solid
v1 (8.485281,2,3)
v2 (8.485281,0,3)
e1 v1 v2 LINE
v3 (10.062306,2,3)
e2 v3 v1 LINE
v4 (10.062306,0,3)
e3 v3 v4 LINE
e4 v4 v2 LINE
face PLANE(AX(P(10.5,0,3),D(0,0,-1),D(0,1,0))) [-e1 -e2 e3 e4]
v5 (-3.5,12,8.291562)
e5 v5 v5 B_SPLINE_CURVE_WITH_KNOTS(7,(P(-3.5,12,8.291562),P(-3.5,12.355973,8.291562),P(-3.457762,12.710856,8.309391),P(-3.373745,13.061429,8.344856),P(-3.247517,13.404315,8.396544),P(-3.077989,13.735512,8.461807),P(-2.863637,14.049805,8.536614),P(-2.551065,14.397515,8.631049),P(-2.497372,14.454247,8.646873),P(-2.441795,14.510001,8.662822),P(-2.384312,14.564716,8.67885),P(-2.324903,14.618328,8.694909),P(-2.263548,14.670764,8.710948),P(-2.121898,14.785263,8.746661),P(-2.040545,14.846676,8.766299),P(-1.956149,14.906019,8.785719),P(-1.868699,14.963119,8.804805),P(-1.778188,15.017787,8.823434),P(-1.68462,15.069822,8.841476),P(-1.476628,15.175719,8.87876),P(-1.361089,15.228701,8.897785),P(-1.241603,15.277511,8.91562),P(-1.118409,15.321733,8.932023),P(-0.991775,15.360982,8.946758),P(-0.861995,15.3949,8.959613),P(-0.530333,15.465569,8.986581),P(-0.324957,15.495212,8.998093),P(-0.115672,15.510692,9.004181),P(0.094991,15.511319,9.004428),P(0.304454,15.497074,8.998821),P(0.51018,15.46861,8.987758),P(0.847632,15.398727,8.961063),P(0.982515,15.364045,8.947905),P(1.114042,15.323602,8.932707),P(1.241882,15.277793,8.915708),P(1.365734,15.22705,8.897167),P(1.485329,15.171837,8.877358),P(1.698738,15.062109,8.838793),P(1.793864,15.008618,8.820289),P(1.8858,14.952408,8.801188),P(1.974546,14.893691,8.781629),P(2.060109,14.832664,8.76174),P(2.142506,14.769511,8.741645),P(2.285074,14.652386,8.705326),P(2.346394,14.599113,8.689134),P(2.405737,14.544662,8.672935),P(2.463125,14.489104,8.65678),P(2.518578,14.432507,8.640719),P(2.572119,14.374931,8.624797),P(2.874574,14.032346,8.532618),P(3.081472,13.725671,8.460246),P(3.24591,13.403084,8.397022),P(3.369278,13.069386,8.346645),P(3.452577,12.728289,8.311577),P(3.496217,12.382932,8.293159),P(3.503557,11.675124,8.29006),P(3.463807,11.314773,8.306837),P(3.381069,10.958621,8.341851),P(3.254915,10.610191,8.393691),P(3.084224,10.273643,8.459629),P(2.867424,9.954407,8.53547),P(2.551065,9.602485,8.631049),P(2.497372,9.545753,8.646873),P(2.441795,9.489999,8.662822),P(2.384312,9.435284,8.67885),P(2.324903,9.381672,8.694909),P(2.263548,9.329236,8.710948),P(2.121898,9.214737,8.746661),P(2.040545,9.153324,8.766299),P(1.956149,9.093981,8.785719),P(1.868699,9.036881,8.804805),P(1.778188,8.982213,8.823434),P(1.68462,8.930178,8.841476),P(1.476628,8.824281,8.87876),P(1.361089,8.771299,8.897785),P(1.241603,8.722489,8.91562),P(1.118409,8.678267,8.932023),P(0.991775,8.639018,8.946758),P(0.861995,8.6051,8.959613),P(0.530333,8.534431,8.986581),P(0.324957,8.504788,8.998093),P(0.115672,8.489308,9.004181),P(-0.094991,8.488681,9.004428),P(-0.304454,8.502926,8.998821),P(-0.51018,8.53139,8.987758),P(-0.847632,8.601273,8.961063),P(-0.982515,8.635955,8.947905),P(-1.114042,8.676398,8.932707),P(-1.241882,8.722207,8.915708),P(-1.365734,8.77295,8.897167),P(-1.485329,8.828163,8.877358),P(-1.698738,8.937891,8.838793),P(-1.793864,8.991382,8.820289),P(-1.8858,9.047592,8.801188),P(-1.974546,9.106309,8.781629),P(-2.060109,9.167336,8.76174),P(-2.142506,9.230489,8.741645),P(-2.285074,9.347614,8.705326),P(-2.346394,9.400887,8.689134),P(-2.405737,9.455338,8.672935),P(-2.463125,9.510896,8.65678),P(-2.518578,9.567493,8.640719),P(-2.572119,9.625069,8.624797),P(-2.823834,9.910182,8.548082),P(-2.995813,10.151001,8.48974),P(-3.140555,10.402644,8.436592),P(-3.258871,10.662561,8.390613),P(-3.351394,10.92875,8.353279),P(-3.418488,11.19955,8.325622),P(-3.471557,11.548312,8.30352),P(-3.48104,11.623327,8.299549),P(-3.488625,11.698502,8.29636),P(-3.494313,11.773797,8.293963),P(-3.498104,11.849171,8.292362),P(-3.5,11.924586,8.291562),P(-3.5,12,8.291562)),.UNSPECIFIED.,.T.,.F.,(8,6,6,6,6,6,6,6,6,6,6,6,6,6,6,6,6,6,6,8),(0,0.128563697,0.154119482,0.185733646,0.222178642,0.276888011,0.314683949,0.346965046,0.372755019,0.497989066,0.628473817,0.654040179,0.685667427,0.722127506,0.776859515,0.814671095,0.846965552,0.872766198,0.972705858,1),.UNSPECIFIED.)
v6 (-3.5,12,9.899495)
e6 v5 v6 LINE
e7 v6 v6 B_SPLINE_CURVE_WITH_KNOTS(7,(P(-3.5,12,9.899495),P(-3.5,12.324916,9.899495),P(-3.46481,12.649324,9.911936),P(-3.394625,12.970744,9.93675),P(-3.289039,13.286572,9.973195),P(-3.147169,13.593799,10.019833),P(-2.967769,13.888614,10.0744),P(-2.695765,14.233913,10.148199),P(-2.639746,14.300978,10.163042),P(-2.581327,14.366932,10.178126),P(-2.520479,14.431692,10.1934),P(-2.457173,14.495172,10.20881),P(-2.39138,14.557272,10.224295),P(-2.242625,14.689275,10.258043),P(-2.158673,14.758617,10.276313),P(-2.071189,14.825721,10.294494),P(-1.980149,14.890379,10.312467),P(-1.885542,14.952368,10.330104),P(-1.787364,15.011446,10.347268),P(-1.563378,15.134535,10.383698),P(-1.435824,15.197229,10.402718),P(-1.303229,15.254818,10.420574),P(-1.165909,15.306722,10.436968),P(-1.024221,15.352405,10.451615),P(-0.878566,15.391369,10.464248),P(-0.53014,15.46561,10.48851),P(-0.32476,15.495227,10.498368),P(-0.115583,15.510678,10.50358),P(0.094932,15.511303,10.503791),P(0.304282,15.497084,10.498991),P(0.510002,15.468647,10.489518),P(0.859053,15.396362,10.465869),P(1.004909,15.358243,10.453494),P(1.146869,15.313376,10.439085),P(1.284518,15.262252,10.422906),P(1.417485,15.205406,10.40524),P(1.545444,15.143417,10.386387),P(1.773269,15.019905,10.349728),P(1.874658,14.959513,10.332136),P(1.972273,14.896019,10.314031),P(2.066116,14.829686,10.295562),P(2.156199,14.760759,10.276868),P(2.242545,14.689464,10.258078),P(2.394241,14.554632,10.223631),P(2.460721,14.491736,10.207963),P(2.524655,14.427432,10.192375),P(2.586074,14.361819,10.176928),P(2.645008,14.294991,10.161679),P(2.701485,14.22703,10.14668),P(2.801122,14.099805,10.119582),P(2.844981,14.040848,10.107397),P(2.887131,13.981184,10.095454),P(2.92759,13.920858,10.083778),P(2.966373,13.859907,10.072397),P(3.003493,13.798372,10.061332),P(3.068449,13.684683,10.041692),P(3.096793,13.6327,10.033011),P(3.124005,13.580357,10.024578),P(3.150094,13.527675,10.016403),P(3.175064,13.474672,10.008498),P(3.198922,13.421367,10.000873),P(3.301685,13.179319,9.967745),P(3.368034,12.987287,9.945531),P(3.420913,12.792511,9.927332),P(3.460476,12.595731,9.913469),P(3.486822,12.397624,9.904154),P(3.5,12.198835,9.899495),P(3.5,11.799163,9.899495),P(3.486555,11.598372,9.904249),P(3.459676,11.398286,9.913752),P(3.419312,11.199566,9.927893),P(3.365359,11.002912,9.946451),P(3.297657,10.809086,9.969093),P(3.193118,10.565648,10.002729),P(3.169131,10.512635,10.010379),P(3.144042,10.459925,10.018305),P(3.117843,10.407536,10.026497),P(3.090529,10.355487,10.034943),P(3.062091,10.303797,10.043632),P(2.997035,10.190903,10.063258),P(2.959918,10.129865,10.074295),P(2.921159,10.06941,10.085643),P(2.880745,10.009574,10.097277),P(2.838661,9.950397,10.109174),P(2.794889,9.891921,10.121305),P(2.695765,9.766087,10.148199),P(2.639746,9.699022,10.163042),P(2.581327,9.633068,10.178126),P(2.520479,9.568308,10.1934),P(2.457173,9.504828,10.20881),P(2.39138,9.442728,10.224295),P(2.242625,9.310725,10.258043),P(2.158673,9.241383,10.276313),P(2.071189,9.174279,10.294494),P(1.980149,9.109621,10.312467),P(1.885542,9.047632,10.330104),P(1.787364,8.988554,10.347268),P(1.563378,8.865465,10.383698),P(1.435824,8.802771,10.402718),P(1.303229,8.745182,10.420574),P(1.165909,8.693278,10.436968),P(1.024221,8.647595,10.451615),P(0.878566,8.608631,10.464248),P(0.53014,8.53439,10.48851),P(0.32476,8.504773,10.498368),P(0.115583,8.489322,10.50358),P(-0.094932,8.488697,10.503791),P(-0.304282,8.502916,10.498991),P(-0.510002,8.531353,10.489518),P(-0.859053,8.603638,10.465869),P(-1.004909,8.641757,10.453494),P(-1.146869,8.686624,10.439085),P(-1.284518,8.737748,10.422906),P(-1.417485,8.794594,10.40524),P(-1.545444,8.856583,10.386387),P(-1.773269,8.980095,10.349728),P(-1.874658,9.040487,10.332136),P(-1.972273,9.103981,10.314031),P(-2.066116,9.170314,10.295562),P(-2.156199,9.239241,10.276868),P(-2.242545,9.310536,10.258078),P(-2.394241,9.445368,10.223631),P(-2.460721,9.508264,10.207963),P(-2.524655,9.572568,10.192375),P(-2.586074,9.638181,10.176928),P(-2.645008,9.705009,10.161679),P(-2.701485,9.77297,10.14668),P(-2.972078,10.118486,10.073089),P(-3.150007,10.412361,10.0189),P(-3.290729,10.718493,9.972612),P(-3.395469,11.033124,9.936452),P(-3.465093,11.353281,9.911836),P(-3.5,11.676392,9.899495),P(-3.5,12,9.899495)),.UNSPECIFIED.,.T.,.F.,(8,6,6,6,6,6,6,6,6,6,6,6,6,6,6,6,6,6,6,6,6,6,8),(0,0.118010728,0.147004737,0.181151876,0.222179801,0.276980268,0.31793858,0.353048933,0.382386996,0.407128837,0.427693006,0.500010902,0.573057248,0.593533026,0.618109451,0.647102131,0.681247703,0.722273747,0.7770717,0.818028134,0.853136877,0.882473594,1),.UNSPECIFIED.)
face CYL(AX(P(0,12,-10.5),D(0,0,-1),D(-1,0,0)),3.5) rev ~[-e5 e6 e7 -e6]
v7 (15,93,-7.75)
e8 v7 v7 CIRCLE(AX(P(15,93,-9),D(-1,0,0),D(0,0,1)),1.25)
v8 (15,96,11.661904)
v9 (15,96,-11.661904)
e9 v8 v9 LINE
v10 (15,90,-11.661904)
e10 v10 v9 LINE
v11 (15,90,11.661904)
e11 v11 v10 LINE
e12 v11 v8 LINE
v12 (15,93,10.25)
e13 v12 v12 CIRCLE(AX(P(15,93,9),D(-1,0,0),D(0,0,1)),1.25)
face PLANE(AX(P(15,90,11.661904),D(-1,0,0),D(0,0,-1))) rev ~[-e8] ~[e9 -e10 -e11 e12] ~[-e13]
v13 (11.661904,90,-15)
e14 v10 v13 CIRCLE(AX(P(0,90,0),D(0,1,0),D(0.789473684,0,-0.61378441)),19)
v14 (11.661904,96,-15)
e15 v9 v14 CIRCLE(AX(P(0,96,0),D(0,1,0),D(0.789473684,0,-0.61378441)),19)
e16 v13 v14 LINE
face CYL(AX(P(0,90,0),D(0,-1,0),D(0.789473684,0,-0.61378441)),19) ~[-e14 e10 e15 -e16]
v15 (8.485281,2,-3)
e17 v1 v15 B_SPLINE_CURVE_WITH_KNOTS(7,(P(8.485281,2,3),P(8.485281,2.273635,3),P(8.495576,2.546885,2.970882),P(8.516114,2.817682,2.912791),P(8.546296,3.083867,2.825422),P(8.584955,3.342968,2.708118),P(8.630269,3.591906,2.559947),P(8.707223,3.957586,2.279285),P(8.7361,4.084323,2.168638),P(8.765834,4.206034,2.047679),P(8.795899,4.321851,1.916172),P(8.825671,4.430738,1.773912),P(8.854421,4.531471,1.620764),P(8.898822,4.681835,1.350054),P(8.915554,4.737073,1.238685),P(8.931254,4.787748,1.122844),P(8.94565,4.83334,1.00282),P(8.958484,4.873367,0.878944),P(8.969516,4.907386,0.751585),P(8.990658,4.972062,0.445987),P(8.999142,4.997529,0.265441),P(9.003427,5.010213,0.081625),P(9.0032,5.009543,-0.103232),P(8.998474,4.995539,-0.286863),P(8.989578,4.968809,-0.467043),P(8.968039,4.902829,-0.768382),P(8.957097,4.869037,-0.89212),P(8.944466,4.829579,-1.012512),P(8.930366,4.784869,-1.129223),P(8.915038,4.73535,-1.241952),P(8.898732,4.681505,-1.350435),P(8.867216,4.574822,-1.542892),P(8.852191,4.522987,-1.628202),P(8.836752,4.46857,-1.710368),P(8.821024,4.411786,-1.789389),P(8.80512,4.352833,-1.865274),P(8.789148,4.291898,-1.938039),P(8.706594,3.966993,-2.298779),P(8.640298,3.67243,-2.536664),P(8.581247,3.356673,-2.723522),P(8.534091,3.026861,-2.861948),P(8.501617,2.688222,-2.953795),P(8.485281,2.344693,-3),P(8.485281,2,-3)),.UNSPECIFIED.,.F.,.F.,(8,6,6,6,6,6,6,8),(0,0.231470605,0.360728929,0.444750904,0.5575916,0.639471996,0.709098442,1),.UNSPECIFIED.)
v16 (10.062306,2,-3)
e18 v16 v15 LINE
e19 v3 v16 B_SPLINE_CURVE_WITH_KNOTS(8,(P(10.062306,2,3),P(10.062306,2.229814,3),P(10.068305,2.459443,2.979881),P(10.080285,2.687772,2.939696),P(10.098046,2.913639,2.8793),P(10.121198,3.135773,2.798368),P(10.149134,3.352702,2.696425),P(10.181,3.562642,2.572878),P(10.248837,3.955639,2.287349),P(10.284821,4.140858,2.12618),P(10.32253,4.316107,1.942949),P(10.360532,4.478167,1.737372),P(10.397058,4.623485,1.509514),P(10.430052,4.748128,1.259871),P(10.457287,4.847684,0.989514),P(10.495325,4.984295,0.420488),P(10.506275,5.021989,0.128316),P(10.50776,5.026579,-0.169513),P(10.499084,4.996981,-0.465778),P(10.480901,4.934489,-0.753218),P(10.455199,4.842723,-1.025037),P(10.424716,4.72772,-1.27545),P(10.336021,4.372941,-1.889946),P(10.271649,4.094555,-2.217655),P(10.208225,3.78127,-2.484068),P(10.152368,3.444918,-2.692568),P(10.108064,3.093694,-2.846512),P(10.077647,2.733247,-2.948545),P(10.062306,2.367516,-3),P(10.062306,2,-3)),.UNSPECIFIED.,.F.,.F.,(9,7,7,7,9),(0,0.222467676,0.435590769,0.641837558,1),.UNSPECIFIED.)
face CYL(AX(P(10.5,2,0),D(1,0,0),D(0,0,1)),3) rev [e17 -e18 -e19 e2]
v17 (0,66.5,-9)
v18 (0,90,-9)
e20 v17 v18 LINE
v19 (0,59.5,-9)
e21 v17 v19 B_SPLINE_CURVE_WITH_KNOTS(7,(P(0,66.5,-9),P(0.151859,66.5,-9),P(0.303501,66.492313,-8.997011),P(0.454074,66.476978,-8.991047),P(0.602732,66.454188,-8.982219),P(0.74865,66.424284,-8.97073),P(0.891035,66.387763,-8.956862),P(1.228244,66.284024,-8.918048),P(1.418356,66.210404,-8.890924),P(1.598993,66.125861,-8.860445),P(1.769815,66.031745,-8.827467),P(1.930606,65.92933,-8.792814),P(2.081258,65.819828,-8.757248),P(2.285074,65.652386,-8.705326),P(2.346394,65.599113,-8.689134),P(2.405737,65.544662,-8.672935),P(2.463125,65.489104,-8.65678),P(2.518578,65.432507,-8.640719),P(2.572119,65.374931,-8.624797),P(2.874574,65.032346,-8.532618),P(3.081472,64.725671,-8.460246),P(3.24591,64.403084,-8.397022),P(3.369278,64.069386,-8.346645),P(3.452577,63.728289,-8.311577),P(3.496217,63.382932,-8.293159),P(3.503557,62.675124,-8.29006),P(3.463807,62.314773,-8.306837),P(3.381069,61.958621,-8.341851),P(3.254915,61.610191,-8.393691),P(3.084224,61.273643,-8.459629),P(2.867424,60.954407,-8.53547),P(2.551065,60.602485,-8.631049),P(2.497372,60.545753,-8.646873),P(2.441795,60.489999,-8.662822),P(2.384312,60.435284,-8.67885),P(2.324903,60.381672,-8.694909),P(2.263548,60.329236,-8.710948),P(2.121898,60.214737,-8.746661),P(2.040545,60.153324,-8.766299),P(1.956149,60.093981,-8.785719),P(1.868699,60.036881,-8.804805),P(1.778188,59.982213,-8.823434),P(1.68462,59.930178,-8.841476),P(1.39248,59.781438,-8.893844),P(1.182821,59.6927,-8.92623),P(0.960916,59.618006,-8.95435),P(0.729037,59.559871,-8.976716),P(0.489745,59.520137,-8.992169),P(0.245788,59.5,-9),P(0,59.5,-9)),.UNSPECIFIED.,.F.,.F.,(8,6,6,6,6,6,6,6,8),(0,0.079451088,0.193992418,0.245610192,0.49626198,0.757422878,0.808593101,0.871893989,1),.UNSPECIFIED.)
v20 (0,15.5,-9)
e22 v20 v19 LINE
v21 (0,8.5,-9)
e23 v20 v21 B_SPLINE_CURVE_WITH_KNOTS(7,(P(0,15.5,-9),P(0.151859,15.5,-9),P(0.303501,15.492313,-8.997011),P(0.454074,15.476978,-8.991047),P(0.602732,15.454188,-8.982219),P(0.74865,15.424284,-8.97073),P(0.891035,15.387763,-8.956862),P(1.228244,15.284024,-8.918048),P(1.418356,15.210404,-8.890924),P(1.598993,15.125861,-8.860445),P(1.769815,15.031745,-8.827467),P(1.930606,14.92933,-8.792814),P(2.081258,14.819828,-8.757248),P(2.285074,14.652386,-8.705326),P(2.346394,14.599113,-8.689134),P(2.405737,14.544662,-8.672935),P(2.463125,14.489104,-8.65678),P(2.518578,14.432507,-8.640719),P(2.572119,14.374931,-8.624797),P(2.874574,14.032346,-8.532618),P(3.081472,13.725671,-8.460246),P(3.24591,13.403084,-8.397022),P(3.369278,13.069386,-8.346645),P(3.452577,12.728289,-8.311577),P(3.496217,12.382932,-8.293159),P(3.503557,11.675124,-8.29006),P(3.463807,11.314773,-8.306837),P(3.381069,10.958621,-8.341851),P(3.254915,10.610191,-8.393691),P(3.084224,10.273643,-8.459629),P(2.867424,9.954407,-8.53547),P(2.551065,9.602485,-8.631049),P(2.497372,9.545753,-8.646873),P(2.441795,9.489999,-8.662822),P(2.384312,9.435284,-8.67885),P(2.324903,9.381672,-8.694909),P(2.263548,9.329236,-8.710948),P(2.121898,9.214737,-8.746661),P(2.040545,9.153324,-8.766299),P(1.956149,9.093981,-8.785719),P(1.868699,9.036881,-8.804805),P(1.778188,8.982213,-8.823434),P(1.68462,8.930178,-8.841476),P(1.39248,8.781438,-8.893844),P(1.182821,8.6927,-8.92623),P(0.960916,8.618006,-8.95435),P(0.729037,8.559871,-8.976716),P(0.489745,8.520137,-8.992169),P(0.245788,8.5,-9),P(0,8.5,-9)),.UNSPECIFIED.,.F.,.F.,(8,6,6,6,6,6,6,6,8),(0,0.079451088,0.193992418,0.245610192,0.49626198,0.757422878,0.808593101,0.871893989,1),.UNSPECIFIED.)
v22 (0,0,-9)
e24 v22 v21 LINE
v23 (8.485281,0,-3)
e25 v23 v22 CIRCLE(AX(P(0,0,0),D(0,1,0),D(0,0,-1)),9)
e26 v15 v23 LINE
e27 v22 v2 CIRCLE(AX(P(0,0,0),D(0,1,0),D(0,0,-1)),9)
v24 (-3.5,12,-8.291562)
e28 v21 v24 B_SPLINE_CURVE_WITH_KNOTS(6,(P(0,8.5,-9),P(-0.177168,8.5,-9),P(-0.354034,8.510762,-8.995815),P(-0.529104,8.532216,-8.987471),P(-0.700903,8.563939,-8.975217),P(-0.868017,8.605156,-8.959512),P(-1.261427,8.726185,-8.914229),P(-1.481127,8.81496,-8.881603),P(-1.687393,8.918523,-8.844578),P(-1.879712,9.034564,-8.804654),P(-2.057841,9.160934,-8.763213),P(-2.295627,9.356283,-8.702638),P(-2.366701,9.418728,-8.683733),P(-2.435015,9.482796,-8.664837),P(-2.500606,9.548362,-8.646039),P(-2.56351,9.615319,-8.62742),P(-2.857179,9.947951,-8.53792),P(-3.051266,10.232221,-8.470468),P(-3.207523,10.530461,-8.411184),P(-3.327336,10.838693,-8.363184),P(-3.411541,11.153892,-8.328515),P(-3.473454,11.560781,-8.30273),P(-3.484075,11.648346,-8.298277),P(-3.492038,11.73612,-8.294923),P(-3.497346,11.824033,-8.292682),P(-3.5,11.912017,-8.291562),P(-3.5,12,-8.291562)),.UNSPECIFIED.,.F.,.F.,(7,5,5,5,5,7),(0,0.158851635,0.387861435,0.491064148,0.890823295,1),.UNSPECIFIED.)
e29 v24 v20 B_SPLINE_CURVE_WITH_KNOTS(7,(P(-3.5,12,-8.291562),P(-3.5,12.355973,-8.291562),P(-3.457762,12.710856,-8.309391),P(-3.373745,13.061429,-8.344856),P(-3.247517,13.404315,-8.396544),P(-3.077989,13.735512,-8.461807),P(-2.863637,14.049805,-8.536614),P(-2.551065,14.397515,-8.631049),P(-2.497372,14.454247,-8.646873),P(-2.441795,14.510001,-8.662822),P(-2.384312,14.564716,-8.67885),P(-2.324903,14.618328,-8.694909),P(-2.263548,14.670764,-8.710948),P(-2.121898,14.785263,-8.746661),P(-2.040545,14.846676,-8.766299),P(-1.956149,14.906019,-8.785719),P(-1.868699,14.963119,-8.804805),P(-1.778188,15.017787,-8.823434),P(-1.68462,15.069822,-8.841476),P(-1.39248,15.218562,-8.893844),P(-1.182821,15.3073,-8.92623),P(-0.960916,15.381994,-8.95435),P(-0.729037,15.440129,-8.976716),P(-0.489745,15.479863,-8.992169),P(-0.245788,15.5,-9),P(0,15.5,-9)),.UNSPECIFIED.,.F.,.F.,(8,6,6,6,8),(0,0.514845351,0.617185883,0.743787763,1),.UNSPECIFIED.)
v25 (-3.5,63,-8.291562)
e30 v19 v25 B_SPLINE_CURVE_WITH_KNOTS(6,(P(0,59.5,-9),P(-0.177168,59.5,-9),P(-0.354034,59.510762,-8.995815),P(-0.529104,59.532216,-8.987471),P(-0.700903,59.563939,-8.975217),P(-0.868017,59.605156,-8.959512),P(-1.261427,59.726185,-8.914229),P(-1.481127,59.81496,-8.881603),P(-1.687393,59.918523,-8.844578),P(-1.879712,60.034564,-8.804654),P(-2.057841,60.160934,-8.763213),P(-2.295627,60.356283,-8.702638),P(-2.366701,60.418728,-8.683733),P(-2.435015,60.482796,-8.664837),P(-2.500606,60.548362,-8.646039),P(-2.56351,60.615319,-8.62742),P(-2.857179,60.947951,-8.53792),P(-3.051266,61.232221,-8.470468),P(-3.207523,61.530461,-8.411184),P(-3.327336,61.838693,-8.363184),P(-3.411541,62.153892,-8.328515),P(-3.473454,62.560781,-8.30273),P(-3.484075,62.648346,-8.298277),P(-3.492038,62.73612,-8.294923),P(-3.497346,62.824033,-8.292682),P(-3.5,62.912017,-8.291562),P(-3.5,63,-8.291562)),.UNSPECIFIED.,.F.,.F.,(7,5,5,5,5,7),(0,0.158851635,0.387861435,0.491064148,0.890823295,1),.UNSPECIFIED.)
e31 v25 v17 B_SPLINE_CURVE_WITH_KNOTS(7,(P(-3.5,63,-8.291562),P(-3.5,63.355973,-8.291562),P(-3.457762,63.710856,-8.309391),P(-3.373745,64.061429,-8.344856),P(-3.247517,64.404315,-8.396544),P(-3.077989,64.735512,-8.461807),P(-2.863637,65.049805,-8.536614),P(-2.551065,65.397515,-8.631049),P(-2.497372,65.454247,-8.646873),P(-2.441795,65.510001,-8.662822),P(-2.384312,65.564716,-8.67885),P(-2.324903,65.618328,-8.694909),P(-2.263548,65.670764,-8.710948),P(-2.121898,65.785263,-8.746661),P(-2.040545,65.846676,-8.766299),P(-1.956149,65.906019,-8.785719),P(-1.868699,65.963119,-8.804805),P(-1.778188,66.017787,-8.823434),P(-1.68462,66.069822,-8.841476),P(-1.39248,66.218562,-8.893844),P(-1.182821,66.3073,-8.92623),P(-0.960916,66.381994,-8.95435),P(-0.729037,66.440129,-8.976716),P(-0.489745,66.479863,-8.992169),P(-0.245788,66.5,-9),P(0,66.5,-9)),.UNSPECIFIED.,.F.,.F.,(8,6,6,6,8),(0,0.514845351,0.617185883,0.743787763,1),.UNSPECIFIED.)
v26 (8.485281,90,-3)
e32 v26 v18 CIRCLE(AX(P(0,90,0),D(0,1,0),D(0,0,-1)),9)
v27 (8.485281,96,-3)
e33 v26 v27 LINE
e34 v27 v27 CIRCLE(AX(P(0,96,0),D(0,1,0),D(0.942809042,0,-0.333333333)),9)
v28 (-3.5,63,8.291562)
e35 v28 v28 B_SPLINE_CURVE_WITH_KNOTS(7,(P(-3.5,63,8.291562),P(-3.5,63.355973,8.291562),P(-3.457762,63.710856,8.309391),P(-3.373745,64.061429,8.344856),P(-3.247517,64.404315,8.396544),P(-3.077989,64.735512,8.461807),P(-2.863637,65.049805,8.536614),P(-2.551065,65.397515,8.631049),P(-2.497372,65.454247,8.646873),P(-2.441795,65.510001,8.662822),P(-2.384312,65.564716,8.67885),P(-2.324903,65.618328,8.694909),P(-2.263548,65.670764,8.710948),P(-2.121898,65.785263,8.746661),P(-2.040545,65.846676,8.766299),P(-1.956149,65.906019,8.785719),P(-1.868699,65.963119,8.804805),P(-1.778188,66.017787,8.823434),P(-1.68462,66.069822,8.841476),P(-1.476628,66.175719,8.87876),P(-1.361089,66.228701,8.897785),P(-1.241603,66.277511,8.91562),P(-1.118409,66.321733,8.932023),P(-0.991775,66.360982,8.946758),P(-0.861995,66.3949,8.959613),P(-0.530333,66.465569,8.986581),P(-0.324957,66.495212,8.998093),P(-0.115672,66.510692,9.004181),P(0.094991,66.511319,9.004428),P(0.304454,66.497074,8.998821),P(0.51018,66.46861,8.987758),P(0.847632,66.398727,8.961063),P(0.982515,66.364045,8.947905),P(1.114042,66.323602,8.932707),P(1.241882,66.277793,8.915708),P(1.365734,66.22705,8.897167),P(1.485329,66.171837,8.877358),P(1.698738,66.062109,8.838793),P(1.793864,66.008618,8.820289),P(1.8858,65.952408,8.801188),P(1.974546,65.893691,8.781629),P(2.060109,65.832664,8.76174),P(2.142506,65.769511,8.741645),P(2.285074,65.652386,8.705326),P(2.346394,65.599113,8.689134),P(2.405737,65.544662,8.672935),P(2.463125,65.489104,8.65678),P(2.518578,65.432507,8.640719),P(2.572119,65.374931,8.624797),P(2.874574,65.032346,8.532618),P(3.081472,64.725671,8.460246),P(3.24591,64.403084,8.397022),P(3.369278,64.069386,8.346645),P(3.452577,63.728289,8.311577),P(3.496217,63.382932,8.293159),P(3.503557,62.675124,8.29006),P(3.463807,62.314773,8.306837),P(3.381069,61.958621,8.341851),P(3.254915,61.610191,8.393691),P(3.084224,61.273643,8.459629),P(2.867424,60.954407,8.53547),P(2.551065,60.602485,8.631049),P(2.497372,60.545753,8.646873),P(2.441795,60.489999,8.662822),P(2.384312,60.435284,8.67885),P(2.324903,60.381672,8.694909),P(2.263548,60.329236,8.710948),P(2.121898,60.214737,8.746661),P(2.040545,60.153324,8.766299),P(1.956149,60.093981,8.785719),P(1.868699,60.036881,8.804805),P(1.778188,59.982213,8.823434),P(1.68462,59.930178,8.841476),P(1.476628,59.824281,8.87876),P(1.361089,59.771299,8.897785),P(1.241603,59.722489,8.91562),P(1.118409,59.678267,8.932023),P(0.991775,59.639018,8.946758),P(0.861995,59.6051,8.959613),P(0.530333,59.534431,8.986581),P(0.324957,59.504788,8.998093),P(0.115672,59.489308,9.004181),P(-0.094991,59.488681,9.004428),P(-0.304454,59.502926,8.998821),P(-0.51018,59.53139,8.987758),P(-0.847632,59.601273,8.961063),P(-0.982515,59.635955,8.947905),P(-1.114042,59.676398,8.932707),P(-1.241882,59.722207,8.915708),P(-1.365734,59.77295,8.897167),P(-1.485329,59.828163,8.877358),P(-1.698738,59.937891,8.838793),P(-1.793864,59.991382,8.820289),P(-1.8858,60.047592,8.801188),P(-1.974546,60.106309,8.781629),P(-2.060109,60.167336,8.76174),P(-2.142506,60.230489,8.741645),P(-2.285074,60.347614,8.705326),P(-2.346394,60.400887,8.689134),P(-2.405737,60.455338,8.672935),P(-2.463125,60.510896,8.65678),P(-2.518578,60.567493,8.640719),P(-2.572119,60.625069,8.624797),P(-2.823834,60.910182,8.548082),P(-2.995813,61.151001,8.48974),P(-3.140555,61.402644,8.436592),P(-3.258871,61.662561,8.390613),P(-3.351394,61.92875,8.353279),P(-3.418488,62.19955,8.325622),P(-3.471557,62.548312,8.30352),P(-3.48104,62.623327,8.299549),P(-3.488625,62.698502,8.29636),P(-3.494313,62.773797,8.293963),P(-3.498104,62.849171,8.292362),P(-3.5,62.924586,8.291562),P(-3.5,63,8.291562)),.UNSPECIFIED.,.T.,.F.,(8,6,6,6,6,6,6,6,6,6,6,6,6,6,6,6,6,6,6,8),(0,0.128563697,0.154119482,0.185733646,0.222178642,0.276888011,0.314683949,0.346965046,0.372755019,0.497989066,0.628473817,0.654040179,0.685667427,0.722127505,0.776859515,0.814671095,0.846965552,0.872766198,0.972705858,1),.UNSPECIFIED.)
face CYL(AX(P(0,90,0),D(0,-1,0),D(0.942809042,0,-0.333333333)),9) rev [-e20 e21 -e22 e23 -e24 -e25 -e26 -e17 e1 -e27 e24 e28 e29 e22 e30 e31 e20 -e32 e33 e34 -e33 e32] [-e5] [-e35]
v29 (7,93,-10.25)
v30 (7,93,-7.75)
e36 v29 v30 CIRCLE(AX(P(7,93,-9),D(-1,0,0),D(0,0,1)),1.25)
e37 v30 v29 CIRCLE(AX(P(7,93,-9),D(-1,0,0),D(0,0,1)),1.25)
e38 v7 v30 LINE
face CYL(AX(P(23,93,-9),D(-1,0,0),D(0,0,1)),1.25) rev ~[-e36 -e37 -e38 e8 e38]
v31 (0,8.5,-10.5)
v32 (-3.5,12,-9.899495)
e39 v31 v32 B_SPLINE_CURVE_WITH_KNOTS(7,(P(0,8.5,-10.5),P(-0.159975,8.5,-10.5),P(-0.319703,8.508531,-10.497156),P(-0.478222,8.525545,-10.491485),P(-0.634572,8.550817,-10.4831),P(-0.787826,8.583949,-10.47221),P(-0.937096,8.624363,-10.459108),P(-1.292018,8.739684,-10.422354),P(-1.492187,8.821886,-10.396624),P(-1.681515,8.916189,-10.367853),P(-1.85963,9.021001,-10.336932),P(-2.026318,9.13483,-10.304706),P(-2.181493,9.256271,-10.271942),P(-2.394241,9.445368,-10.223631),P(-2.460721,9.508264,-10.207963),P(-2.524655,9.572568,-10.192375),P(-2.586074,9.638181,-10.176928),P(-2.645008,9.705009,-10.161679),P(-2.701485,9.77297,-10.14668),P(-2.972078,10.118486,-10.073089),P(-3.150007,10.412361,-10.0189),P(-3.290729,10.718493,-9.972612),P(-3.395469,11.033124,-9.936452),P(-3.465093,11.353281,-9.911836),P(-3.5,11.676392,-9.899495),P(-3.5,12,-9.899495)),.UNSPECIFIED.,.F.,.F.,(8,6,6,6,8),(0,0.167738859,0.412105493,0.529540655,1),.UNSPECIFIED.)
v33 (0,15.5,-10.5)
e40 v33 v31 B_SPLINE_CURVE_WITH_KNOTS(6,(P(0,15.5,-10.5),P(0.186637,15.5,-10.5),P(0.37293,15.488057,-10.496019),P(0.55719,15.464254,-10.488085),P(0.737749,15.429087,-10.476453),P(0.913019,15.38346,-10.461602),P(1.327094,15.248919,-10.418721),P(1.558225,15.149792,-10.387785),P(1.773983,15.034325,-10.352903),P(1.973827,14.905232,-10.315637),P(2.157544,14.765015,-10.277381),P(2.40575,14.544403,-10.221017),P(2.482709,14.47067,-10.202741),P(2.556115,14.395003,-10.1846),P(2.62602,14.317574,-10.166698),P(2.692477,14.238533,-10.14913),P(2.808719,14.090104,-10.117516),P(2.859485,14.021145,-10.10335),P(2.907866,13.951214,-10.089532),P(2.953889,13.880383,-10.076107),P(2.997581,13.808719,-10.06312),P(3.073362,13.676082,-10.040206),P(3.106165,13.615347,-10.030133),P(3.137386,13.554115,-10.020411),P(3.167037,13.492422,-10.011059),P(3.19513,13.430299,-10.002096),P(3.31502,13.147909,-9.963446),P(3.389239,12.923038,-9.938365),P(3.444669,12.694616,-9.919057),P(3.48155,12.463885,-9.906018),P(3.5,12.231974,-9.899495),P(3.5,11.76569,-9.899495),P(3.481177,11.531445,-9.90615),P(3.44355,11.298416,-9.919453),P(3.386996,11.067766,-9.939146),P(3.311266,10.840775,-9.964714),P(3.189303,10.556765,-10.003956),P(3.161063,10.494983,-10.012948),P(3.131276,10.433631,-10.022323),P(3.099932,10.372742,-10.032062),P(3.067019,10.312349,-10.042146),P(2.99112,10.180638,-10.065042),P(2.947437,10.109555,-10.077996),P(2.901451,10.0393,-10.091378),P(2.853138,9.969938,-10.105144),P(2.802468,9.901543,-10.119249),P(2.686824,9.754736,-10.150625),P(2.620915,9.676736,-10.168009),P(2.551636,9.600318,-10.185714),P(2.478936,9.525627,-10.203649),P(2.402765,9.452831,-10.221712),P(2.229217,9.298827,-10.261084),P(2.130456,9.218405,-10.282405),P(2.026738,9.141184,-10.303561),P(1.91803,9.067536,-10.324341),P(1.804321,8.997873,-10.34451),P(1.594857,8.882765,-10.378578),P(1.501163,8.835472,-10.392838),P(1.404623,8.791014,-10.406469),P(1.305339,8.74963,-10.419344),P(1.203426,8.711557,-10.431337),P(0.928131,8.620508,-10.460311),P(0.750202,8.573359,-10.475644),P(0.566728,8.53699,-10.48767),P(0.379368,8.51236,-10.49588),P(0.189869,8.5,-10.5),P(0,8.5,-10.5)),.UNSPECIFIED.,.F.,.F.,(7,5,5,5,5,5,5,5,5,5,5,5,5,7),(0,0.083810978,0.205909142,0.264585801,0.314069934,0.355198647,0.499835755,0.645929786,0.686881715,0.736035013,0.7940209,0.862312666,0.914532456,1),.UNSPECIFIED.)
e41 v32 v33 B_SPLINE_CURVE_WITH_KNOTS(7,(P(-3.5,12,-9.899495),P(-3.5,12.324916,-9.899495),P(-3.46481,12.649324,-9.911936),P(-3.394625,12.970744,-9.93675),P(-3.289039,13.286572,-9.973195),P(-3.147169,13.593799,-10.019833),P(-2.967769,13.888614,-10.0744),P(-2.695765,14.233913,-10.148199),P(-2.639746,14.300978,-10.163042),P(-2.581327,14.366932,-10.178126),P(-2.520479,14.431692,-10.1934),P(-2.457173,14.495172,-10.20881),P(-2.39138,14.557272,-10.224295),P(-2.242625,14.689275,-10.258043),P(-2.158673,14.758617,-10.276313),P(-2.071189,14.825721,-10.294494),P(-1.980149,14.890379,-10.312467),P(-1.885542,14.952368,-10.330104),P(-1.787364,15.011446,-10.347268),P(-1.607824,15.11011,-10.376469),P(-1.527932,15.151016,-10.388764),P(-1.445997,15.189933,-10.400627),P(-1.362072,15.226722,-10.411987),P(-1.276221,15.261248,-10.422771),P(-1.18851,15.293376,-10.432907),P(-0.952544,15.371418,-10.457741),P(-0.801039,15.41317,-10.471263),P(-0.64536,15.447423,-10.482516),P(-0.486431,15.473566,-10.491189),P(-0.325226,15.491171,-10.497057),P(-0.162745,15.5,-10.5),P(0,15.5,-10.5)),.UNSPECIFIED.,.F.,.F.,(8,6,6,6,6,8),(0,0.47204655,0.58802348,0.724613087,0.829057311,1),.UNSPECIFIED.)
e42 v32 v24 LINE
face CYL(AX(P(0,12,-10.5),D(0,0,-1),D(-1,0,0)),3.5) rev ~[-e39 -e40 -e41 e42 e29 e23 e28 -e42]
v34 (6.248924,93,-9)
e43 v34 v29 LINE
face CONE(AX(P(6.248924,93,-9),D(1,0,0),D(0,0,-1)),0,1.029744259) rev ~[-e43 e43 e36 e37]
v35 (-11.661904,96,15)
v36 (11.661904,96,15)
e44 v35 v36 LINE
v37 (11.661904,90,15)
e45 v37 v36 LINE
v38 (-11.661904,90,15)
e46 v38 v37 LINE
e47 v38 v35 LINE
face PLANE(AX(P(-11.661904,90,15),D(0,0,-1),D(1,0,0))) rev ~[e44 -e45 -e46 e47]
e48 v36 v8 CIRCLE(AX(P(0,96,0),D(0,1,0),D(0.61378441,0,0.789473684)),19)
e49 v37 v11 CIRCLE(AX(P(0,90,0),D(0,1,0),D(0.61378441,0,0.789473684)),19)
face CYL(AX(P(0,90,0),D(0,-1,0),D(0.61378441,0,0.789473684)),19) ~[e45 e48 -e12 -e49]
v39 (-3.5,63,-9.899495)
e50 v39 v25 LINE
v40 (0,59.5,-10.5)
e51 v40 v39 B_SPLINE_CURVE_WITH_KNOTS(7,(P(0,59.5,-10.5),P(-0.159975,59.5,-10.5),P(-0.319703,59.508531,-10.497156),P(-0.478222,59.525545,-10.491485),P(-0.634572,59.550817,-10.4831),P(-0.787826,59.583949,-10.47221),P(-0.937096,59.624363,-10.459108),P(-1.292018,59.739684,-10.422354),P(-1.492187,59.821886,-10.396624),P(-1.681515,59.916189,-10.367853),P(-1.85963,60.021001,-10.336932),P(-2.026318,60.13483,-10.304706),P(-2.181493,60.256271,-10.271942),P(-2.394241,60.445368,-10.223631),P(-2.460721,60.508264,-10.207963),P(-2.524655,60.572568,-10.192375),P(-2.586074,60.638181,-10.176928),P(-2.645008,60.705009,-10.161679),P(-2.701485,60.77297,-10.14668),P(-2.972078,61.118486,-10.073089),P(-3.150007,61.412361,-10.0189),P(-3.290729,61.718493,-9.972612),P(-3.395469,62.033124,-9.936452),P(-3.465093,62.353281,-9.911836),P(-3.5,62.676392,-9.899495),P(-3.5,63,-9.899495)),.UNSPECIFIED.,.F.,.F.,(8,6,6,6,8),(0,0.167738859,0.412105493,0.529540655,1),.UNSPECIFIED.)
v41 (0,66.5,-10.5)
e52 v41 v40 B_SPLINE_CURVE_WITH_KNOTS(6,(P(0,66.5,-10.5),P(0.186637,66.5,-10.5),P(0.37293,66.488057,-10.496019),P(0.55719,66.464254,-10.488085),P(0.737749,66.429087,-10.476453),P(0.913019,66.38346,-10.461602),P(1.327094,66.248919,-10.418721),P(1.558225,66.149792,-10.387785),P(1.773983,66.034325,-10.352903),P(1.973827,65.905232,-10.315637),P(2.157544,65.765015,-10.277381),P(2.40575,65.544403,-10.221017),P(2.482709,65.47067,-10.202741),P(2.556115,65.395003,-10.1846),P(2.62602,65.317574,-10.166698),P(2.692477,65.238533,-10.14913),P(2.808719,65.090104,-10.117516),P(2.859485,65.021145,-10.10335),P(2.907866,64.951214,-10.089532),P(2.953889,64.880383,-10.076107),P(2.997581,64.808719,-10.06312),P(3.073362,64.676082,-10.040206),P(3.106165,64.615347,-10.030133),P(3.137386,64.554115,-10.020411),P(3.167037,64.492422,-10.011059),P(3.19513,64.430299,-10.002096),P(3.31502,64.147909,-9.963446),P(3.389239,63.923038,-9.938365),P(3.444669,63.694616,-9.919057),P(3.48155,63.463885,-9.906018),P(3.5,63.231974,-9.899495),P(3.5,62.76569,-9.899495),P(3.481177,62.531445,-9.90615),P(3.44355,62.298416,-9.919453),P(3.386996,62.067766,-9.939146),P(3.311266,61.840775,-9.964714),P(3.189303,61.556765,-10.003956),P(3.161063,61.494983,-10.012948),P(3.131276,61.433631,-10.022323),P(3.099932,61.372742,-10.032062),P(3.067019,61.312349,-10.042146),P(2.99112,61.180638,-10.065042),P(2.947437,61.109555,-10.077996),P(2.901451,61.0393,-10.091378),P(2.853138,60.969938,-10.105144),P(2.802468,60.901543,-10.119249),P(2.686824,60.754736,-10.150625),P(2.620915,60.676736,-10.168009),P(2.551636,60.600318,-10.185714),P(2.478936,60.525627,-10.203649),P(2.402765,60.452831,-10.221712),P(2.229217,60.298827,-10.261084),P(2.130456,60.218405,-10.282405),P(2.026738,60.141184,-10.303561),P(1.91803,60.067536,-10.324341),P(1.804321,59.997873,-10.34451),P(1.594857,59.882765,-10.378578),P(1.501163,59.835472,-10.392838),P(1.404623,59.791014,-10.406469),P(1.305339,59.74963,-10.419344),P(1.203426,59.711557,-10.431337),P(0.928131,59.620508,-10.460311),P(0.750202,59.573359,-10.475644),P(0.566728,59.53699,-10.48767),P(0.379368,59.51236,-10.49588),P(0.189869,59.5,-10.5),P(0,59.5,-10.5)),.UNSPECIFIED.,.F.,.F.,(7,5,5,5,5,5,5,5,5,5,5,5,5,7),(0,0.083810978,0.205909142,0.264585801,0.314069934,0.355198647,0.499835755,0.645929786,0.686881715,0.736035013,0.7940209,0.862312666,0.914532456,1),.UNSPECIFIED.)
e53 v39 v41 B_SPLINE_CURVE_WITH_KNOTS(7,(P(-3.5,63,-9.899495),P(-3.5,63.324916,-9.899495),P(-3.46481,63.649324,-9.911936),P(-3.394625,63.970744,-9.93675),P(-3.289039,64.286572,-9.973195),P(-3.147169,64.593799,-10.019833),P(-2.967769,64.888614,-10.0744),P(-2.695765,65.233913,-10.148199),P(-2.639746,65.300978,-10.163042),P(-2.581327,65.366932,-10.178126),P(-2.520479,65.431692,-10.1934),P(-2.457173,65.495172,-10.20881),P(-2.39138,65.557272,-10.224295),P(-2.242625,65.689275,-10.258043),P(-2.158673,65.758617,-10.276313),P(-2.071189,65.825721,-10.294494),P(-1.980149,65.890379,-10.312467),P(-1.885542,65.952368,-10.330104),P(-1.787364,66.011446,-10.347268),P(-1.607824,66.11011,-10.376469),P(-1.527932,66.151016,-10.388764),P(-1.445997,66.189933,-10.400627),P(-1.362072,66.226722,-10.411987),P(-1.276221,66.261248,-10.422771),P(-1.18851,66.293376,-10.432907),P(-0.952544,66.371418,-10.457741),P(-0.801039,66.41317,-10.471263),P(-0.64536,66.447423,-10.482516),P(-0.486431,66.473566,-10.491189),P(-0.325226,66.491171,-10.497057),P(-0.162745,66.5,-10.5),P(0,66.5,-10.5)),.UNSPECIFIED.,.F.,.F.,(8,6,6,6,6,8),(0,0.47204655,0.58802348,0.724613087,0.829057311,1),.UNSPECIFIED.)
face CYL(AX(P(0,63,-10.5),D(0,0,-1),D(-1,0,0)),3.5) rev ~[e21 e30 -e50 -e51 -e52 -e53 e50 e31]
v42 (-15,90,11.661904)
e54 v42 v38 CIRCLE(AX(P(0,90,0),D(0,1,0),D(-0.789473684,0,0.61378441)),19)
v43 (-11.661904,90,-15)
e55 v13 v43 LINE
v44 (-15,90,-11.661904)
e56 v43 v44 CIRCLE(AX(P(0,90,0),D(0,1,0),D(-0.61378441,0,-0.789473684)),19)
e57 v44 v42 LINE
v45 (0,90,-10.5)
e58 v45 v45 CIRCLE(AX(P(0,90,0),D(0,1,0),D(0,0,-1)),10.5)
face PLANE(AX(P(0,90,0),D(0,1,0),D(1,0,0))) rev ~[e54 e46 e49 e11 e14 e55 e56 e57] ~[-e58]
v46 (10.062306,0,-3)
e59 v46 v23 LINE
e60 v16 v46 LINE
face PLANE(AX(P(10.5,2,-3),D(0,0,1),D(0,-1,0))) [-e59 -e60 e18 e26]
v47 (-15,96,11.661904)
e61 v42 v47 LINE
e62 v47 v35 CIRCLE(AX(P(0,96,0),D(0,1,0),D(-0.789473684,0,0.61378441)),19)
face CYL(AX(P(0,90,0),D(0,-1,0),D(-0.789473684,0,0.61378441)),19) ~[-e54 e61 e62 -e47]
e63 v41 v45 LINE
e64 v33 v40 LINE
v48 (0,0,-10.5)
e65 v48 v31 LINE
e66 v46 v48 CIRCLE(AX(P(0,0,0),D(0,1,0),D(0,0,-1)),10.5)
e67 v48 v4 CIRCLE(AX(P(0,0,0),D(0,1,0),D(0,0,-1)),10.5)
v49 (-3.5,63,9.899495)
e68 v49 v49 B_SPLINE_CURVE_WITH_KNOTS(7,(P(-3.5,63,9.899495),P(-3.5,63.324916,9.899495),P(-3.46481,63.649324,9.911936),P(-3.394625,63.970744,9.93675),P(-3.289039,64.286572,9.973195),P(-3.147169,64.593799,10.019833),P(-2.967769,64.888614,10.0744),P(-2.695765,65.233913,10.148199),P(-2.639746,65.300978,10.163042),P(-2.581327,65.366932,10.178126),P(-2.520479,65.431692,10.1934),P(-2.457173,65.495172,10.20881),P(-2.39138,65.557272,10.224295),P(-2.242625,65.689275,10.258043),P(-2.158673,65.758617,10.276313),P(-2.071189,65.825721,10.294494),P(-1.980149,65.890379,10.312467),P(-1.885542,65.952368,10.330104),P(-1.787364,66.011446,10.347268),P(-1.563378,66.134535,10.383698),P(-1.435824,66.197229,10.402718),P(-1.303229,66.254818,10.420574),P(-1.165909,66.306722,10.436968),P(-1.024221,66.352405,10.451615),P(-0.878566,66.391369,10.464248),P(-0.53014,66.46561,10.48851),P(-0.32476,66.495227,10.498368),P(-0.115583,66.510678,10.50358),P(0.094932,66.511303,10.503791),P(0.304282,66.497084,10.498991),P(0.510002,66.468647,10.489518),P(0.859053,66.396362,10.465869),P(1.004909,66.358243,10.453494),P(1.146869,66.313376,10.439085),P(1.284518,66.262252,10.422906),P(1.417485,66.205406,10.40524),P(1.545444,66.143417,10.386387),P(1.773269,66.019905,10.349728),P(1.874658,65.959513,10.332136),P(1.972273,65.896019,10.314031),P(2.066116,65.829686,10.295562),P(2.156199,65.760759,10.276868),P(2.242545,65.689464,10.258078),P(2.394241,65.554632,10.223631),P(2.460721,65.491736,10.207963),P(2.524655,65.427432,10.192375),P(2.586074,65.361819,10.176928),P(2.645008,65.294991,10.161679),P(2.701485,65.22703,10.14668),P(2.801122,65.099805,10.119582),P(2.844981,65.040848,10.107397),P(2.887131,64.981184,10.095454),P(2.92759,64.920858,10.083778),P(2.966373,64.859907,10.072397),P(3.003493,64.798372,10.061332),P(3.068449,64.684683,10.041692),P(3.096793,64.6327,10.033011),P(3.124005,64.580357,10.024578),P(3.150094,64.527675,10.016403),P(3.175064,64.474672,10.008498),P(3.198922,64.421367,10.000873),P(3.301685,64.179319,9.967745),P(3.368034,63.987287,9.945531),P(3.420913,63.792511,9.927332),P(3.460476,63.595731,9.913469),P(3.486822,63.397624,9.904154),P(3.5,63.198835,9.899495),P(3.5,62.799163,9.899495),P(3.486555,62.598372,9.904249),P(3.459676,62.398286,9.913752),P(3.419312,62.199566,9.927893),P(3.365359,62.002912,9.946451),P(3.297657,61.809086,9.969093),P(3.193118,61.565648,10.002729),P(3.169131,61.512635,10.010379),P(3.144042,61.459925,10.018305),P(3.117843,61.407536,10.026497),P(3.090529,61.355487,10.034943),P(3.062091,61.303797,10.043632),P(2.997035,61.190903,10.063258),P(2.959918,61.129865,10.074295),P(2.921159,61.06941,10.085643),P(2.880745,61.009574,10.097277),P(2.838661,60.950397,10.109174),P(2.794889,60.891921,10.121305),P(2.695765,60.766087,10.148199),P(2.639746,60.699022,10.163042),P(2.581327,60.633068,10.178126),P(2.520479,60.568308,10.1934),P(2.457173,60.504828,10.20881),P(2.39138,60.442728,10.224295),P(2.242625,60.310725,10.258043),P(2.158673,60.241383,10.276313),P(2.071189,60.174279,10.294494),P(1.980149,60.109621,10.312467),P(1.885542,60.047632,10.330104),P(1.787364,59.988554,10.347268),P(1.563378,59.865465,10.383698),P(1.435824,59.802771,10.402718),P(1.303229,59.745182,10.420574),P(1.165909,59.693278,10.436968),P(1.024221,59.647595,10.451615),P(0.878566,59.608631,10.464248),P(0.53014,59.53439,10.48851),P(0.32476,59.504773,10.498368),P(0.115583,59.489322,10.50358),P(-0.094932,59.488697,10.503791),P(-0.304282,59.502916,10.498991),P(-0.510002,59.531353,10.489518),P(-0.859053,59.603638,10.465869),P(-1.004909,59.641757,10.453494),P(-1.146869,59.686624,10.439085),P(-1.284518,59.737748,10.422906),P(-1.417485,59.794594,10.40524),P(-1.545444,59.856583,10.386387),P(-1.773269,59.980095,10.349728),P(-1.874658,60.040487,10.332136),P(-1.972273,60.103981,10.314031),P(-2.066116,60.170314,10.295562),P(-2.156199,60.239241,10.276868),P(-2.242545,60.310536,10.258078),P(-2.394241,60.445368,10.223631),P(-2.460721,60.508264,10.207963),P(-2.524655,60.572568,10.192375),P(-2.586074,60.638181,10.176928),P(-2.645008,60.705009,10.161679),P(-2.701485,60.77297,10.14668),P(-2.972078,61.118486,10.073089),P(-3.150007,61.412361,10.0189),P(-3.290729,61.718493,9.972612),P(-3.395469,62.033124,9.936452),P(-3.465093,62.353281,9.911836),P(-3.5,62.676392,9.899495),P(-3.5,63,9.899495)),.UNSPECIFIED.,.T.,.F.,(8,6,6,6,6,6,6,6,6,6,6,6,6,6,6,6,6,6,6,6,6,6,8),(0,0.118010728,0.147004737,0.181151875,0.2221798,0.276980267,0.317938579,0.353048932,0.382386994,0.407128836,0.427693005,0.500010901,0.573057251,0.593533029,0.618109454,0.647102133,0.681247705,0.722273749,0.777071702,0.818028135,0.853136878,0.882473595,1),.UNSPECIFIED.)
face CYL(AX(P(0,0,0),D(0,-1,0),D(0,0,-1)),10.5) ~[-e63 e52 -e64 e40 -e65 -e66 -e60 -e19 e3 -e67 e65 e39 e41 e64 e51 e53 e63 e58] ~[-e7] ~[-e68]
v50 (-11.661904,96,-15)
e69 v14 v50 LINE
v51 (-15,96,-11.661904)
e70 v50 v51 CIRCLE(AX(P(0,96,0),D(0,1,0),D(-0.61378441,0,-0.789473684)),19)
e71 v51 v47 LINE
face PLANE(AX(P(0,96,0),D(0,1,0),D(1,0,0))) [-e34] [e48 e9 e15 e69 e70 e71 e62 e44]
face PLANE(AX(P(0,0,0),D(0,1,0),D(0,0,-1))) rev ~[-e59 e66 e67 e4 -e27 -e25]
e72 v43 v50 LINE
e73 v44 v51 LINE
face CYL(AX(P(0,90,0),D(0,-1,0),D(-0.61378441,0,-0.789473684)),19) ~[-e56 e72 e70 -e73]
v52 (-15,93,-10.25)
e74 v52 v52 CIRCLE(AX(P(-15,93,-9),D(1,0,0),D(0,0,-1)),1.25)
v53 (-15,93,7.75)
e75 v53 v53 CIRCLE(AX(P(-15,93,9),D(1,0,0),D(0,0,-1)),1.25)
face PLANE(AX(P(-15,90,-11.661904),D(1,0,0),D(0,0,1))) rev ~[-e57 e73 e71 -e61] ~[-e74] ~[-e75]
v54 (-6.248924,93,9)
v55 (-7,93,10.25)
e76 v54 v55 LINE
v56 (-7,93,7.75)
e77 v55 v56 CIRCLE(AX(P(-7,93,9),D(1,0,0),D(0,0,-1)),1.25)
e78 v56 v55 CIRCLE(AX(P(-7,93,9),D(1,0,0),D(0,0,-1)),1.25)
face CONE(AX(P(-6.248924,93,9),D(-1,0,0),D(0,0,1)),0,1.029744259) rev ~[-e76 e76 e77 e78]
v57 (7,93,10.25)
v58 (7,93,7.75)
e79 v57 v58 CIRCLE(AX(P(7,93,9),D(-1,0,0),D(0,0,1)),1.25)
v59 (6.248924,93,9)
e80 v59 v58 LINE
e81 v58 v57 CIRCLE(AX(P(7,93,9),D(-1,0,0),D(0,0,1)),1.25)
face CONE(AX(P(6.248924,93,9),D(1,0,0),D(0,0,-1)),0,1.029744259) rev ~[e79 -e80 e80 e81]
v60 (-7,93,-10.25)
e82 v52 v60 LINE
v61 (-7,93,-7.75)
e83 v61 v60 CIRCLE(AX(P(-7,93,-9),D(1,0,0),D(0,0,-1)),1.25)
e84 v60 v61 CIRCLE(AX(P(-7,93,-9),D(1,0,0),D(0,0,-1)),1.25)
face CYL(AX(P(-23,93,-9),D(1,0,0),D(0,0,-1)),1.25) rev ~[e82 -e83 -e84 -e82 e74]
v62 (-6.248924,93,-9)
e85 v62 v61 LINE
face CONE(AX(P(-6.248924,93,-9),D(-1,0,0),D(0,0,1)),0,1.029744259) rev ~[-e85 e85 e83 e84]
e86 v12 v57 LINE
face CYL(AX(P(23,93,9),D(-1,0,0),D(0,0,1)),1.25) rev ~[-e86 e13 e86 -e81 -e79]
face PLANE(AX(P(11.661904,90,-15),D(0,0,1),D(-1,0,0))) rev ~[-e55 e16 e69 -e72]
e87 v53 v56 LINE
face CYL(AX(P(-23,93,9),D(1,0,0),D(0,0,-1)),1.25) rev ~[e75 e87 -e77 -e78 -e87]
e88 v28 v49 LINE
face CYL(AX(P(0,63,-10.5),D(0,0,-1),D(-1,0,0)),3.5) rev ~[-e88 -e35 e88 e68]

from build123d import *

# Parameters (mm, degrees)
SKETCH_1_R               = 10.5
SKETCH_1_R_2             = 9
EXTRUDE_1_DEPTH          = 90
CUT_EXTRUDE_1_REACH      = 95.012
CUT_EXTRUDE_1_END_RADIUS = 9
SKETCH_4_R               = 3.5
CUT_EXTRUDE_2_DEPTH      = 94.012096118
SKETCH_5_R               = 9
EXTRUDE_2_DEPTH          = 6
HOLE_WIZARD_M3_1_D       = 2.5
HOLE_WIZARD_M3_1_DEPTH   = 8
HOLE_WIZARD_M3_1_TIP     = 0.751075774
HOLE_WIZARD_M3_2_D       = 2.5
HOLE_WIZARD_M3_2_DEPTH   = 8
HOLE_WIZARD_M3_2_TIP     = 0.751075774


with BuildPart() as part:
    # 草图1 → 凸台-拉伸1 (new body)
    with BuildSketch(Plane(origin=(0, 0, 0), x_dir=(1, 0, 0), z_dir=(0, 1, 0))):
        with Locations(Location((0, 0, 0), (0, 0, 90))):
            Circle(SKETCH_1_R)
        with Locations(Location((0, 0, 0), (0, 0, 90))):
            Circle(SKETCH_1_R_2, mode=Mode.SUBTRACT)
    extrude(amount=EXTRUDE_1_DEPTH)

    # 切除-拉伸1: up to this cylinder (the profile starts outside it)
    cut_extrude_1_end = Plane(origin=(0, 2.229558, 0), z_dir=(0, -1, 0)) * Cylinder(CUT_EXTRUDE_1_END_RADIUS, 209.024, mode=Mode.PRIVATE)
    # 草图3 → 切除-拉伸1 (cut, up to the surface)
    with BuildSketch(Plane(origin=(10.5, 0, 0), x_dir=(0, 0, -1), z_dir=(1, 0, 0)), mode=Mode.PRIVATE) as cut_extrude_1_sk1:
        with BuildLine():
            Line((-3, 0), (-3, 2))
            ThreePointArc((-3, 2), (0, 5), (3, 2))
            Line((3, 2), (3, 0))
            Line((3, 0), (-3, 0))
        make_face()
    cut_extrude_1_tool1 = extrude(cut_extrude_1_sk1.sketch, amount=-CUT_EXTRUDE_1_REACH, mode=Mode.PRIVATE) - cut_extrude_1_end
    add(cut_extrude_1_tool1.solids().sort_by_distance((10.5, 2.229558, 0))[0], mode=Mode.SUBTRACT)

    # 草图4 → 切除-拉伸2 (cut, through all)
    with BuildSketch(Plane(origin=(0, 0, -10.5), x_dir=(-1, 0, 0), z_dir=(0, 0, -1))):
        with Locations((0, 63)):
            Circle(SKETCH_4_R)
        with Locations((0, 12)):
            Circle(SKETCH_4_R)
    extrude(amount=-CUT_EXTRUDE_2_DEPTH, mode=Mode.SUBTRACT)

    # 草图5 → 凸台-拉伸2 (add)
    with BuildSketch(Plane(origin=(0, 90, 0), x_dir=(1, 0, 0), z_dir=(0, 1, 0))):
        with BuildLine():
            Line((11.66190379, 15), (-11.66190379, 15))
            ThreePointArc((-11.66190379, 15), (-13.435028843, 13.435028843), (-15, 11.66190379))
            Line((-15, 11.66190379), (-15, -11.66190379))
            ThreePointArc((-15, -11.66190379), (-13.435028843, -13.435028843), (-11.66190379, -15))
            Line((-11.66190379, -15), (11.66190379, -15))
            ThreePointArc((11.66190379, -15), (13.435028843, -13.435028843), (15, -11.66190379))
            Line((15, -11.66190379), (15, 11.66190379))
            ThreePointArc((15, 11.66190379), (13.435028843, 13.435028843), (11.66190379, 15))
        make_face()
        with Locations(Location((0, 0, 0), (0, 0, 19.471220634))):
            Circle(SKETCH_5_R, mode=Mode.SUBTRACT)
    extrude(amount=EXTRUDE_2_DEPTH)

    # M3 螺纹孔1
    with Locations(Plane(origin=(15, 0, 0), x_dir=(0, 0, -1), z_dir=(1, 0, 0))):
        with Locations((-9, 93), (9, 93)):
            Hole(HOLE_WIZARD_M3_1_D / 2, depth=HOLE_WIZARD_M3_1_DEPTH)
            with Locations((0, 0, -(HOLE_WIZARD_M3_1_DEPTH + HOLE_WIZARD_M3_1_TIP / 2))):  # 118° drill point
                Cone(0, HOLE_WIZARD_M3_1_D / 2, HOLE_WIZARD_M3_1_TIP, mode=Mode.SUBTRACT)

    # M3 螺纹孔2
    with Locations(Plane.ZY.offset(15)):
        with Locations((-9, 93), (9, 93)):
            Hole(HOLE_WIZARD_M3_2_D / 2, depth=HOLE_WIZARD_M3_2_DEPTH)
            with Locations((0, 0, -(HOLE_WIZARD_M3_2_DEPTH + HOLE_WIZARD_M3_2_TIP / 2))):  # 118° drill point
                Cone(0, HOLE_WIZARD_M3_2_D / 2, HOLE_WIZARD_M3_2_TIP, mode=Mode.SUBTRACT)


solid = part.part
